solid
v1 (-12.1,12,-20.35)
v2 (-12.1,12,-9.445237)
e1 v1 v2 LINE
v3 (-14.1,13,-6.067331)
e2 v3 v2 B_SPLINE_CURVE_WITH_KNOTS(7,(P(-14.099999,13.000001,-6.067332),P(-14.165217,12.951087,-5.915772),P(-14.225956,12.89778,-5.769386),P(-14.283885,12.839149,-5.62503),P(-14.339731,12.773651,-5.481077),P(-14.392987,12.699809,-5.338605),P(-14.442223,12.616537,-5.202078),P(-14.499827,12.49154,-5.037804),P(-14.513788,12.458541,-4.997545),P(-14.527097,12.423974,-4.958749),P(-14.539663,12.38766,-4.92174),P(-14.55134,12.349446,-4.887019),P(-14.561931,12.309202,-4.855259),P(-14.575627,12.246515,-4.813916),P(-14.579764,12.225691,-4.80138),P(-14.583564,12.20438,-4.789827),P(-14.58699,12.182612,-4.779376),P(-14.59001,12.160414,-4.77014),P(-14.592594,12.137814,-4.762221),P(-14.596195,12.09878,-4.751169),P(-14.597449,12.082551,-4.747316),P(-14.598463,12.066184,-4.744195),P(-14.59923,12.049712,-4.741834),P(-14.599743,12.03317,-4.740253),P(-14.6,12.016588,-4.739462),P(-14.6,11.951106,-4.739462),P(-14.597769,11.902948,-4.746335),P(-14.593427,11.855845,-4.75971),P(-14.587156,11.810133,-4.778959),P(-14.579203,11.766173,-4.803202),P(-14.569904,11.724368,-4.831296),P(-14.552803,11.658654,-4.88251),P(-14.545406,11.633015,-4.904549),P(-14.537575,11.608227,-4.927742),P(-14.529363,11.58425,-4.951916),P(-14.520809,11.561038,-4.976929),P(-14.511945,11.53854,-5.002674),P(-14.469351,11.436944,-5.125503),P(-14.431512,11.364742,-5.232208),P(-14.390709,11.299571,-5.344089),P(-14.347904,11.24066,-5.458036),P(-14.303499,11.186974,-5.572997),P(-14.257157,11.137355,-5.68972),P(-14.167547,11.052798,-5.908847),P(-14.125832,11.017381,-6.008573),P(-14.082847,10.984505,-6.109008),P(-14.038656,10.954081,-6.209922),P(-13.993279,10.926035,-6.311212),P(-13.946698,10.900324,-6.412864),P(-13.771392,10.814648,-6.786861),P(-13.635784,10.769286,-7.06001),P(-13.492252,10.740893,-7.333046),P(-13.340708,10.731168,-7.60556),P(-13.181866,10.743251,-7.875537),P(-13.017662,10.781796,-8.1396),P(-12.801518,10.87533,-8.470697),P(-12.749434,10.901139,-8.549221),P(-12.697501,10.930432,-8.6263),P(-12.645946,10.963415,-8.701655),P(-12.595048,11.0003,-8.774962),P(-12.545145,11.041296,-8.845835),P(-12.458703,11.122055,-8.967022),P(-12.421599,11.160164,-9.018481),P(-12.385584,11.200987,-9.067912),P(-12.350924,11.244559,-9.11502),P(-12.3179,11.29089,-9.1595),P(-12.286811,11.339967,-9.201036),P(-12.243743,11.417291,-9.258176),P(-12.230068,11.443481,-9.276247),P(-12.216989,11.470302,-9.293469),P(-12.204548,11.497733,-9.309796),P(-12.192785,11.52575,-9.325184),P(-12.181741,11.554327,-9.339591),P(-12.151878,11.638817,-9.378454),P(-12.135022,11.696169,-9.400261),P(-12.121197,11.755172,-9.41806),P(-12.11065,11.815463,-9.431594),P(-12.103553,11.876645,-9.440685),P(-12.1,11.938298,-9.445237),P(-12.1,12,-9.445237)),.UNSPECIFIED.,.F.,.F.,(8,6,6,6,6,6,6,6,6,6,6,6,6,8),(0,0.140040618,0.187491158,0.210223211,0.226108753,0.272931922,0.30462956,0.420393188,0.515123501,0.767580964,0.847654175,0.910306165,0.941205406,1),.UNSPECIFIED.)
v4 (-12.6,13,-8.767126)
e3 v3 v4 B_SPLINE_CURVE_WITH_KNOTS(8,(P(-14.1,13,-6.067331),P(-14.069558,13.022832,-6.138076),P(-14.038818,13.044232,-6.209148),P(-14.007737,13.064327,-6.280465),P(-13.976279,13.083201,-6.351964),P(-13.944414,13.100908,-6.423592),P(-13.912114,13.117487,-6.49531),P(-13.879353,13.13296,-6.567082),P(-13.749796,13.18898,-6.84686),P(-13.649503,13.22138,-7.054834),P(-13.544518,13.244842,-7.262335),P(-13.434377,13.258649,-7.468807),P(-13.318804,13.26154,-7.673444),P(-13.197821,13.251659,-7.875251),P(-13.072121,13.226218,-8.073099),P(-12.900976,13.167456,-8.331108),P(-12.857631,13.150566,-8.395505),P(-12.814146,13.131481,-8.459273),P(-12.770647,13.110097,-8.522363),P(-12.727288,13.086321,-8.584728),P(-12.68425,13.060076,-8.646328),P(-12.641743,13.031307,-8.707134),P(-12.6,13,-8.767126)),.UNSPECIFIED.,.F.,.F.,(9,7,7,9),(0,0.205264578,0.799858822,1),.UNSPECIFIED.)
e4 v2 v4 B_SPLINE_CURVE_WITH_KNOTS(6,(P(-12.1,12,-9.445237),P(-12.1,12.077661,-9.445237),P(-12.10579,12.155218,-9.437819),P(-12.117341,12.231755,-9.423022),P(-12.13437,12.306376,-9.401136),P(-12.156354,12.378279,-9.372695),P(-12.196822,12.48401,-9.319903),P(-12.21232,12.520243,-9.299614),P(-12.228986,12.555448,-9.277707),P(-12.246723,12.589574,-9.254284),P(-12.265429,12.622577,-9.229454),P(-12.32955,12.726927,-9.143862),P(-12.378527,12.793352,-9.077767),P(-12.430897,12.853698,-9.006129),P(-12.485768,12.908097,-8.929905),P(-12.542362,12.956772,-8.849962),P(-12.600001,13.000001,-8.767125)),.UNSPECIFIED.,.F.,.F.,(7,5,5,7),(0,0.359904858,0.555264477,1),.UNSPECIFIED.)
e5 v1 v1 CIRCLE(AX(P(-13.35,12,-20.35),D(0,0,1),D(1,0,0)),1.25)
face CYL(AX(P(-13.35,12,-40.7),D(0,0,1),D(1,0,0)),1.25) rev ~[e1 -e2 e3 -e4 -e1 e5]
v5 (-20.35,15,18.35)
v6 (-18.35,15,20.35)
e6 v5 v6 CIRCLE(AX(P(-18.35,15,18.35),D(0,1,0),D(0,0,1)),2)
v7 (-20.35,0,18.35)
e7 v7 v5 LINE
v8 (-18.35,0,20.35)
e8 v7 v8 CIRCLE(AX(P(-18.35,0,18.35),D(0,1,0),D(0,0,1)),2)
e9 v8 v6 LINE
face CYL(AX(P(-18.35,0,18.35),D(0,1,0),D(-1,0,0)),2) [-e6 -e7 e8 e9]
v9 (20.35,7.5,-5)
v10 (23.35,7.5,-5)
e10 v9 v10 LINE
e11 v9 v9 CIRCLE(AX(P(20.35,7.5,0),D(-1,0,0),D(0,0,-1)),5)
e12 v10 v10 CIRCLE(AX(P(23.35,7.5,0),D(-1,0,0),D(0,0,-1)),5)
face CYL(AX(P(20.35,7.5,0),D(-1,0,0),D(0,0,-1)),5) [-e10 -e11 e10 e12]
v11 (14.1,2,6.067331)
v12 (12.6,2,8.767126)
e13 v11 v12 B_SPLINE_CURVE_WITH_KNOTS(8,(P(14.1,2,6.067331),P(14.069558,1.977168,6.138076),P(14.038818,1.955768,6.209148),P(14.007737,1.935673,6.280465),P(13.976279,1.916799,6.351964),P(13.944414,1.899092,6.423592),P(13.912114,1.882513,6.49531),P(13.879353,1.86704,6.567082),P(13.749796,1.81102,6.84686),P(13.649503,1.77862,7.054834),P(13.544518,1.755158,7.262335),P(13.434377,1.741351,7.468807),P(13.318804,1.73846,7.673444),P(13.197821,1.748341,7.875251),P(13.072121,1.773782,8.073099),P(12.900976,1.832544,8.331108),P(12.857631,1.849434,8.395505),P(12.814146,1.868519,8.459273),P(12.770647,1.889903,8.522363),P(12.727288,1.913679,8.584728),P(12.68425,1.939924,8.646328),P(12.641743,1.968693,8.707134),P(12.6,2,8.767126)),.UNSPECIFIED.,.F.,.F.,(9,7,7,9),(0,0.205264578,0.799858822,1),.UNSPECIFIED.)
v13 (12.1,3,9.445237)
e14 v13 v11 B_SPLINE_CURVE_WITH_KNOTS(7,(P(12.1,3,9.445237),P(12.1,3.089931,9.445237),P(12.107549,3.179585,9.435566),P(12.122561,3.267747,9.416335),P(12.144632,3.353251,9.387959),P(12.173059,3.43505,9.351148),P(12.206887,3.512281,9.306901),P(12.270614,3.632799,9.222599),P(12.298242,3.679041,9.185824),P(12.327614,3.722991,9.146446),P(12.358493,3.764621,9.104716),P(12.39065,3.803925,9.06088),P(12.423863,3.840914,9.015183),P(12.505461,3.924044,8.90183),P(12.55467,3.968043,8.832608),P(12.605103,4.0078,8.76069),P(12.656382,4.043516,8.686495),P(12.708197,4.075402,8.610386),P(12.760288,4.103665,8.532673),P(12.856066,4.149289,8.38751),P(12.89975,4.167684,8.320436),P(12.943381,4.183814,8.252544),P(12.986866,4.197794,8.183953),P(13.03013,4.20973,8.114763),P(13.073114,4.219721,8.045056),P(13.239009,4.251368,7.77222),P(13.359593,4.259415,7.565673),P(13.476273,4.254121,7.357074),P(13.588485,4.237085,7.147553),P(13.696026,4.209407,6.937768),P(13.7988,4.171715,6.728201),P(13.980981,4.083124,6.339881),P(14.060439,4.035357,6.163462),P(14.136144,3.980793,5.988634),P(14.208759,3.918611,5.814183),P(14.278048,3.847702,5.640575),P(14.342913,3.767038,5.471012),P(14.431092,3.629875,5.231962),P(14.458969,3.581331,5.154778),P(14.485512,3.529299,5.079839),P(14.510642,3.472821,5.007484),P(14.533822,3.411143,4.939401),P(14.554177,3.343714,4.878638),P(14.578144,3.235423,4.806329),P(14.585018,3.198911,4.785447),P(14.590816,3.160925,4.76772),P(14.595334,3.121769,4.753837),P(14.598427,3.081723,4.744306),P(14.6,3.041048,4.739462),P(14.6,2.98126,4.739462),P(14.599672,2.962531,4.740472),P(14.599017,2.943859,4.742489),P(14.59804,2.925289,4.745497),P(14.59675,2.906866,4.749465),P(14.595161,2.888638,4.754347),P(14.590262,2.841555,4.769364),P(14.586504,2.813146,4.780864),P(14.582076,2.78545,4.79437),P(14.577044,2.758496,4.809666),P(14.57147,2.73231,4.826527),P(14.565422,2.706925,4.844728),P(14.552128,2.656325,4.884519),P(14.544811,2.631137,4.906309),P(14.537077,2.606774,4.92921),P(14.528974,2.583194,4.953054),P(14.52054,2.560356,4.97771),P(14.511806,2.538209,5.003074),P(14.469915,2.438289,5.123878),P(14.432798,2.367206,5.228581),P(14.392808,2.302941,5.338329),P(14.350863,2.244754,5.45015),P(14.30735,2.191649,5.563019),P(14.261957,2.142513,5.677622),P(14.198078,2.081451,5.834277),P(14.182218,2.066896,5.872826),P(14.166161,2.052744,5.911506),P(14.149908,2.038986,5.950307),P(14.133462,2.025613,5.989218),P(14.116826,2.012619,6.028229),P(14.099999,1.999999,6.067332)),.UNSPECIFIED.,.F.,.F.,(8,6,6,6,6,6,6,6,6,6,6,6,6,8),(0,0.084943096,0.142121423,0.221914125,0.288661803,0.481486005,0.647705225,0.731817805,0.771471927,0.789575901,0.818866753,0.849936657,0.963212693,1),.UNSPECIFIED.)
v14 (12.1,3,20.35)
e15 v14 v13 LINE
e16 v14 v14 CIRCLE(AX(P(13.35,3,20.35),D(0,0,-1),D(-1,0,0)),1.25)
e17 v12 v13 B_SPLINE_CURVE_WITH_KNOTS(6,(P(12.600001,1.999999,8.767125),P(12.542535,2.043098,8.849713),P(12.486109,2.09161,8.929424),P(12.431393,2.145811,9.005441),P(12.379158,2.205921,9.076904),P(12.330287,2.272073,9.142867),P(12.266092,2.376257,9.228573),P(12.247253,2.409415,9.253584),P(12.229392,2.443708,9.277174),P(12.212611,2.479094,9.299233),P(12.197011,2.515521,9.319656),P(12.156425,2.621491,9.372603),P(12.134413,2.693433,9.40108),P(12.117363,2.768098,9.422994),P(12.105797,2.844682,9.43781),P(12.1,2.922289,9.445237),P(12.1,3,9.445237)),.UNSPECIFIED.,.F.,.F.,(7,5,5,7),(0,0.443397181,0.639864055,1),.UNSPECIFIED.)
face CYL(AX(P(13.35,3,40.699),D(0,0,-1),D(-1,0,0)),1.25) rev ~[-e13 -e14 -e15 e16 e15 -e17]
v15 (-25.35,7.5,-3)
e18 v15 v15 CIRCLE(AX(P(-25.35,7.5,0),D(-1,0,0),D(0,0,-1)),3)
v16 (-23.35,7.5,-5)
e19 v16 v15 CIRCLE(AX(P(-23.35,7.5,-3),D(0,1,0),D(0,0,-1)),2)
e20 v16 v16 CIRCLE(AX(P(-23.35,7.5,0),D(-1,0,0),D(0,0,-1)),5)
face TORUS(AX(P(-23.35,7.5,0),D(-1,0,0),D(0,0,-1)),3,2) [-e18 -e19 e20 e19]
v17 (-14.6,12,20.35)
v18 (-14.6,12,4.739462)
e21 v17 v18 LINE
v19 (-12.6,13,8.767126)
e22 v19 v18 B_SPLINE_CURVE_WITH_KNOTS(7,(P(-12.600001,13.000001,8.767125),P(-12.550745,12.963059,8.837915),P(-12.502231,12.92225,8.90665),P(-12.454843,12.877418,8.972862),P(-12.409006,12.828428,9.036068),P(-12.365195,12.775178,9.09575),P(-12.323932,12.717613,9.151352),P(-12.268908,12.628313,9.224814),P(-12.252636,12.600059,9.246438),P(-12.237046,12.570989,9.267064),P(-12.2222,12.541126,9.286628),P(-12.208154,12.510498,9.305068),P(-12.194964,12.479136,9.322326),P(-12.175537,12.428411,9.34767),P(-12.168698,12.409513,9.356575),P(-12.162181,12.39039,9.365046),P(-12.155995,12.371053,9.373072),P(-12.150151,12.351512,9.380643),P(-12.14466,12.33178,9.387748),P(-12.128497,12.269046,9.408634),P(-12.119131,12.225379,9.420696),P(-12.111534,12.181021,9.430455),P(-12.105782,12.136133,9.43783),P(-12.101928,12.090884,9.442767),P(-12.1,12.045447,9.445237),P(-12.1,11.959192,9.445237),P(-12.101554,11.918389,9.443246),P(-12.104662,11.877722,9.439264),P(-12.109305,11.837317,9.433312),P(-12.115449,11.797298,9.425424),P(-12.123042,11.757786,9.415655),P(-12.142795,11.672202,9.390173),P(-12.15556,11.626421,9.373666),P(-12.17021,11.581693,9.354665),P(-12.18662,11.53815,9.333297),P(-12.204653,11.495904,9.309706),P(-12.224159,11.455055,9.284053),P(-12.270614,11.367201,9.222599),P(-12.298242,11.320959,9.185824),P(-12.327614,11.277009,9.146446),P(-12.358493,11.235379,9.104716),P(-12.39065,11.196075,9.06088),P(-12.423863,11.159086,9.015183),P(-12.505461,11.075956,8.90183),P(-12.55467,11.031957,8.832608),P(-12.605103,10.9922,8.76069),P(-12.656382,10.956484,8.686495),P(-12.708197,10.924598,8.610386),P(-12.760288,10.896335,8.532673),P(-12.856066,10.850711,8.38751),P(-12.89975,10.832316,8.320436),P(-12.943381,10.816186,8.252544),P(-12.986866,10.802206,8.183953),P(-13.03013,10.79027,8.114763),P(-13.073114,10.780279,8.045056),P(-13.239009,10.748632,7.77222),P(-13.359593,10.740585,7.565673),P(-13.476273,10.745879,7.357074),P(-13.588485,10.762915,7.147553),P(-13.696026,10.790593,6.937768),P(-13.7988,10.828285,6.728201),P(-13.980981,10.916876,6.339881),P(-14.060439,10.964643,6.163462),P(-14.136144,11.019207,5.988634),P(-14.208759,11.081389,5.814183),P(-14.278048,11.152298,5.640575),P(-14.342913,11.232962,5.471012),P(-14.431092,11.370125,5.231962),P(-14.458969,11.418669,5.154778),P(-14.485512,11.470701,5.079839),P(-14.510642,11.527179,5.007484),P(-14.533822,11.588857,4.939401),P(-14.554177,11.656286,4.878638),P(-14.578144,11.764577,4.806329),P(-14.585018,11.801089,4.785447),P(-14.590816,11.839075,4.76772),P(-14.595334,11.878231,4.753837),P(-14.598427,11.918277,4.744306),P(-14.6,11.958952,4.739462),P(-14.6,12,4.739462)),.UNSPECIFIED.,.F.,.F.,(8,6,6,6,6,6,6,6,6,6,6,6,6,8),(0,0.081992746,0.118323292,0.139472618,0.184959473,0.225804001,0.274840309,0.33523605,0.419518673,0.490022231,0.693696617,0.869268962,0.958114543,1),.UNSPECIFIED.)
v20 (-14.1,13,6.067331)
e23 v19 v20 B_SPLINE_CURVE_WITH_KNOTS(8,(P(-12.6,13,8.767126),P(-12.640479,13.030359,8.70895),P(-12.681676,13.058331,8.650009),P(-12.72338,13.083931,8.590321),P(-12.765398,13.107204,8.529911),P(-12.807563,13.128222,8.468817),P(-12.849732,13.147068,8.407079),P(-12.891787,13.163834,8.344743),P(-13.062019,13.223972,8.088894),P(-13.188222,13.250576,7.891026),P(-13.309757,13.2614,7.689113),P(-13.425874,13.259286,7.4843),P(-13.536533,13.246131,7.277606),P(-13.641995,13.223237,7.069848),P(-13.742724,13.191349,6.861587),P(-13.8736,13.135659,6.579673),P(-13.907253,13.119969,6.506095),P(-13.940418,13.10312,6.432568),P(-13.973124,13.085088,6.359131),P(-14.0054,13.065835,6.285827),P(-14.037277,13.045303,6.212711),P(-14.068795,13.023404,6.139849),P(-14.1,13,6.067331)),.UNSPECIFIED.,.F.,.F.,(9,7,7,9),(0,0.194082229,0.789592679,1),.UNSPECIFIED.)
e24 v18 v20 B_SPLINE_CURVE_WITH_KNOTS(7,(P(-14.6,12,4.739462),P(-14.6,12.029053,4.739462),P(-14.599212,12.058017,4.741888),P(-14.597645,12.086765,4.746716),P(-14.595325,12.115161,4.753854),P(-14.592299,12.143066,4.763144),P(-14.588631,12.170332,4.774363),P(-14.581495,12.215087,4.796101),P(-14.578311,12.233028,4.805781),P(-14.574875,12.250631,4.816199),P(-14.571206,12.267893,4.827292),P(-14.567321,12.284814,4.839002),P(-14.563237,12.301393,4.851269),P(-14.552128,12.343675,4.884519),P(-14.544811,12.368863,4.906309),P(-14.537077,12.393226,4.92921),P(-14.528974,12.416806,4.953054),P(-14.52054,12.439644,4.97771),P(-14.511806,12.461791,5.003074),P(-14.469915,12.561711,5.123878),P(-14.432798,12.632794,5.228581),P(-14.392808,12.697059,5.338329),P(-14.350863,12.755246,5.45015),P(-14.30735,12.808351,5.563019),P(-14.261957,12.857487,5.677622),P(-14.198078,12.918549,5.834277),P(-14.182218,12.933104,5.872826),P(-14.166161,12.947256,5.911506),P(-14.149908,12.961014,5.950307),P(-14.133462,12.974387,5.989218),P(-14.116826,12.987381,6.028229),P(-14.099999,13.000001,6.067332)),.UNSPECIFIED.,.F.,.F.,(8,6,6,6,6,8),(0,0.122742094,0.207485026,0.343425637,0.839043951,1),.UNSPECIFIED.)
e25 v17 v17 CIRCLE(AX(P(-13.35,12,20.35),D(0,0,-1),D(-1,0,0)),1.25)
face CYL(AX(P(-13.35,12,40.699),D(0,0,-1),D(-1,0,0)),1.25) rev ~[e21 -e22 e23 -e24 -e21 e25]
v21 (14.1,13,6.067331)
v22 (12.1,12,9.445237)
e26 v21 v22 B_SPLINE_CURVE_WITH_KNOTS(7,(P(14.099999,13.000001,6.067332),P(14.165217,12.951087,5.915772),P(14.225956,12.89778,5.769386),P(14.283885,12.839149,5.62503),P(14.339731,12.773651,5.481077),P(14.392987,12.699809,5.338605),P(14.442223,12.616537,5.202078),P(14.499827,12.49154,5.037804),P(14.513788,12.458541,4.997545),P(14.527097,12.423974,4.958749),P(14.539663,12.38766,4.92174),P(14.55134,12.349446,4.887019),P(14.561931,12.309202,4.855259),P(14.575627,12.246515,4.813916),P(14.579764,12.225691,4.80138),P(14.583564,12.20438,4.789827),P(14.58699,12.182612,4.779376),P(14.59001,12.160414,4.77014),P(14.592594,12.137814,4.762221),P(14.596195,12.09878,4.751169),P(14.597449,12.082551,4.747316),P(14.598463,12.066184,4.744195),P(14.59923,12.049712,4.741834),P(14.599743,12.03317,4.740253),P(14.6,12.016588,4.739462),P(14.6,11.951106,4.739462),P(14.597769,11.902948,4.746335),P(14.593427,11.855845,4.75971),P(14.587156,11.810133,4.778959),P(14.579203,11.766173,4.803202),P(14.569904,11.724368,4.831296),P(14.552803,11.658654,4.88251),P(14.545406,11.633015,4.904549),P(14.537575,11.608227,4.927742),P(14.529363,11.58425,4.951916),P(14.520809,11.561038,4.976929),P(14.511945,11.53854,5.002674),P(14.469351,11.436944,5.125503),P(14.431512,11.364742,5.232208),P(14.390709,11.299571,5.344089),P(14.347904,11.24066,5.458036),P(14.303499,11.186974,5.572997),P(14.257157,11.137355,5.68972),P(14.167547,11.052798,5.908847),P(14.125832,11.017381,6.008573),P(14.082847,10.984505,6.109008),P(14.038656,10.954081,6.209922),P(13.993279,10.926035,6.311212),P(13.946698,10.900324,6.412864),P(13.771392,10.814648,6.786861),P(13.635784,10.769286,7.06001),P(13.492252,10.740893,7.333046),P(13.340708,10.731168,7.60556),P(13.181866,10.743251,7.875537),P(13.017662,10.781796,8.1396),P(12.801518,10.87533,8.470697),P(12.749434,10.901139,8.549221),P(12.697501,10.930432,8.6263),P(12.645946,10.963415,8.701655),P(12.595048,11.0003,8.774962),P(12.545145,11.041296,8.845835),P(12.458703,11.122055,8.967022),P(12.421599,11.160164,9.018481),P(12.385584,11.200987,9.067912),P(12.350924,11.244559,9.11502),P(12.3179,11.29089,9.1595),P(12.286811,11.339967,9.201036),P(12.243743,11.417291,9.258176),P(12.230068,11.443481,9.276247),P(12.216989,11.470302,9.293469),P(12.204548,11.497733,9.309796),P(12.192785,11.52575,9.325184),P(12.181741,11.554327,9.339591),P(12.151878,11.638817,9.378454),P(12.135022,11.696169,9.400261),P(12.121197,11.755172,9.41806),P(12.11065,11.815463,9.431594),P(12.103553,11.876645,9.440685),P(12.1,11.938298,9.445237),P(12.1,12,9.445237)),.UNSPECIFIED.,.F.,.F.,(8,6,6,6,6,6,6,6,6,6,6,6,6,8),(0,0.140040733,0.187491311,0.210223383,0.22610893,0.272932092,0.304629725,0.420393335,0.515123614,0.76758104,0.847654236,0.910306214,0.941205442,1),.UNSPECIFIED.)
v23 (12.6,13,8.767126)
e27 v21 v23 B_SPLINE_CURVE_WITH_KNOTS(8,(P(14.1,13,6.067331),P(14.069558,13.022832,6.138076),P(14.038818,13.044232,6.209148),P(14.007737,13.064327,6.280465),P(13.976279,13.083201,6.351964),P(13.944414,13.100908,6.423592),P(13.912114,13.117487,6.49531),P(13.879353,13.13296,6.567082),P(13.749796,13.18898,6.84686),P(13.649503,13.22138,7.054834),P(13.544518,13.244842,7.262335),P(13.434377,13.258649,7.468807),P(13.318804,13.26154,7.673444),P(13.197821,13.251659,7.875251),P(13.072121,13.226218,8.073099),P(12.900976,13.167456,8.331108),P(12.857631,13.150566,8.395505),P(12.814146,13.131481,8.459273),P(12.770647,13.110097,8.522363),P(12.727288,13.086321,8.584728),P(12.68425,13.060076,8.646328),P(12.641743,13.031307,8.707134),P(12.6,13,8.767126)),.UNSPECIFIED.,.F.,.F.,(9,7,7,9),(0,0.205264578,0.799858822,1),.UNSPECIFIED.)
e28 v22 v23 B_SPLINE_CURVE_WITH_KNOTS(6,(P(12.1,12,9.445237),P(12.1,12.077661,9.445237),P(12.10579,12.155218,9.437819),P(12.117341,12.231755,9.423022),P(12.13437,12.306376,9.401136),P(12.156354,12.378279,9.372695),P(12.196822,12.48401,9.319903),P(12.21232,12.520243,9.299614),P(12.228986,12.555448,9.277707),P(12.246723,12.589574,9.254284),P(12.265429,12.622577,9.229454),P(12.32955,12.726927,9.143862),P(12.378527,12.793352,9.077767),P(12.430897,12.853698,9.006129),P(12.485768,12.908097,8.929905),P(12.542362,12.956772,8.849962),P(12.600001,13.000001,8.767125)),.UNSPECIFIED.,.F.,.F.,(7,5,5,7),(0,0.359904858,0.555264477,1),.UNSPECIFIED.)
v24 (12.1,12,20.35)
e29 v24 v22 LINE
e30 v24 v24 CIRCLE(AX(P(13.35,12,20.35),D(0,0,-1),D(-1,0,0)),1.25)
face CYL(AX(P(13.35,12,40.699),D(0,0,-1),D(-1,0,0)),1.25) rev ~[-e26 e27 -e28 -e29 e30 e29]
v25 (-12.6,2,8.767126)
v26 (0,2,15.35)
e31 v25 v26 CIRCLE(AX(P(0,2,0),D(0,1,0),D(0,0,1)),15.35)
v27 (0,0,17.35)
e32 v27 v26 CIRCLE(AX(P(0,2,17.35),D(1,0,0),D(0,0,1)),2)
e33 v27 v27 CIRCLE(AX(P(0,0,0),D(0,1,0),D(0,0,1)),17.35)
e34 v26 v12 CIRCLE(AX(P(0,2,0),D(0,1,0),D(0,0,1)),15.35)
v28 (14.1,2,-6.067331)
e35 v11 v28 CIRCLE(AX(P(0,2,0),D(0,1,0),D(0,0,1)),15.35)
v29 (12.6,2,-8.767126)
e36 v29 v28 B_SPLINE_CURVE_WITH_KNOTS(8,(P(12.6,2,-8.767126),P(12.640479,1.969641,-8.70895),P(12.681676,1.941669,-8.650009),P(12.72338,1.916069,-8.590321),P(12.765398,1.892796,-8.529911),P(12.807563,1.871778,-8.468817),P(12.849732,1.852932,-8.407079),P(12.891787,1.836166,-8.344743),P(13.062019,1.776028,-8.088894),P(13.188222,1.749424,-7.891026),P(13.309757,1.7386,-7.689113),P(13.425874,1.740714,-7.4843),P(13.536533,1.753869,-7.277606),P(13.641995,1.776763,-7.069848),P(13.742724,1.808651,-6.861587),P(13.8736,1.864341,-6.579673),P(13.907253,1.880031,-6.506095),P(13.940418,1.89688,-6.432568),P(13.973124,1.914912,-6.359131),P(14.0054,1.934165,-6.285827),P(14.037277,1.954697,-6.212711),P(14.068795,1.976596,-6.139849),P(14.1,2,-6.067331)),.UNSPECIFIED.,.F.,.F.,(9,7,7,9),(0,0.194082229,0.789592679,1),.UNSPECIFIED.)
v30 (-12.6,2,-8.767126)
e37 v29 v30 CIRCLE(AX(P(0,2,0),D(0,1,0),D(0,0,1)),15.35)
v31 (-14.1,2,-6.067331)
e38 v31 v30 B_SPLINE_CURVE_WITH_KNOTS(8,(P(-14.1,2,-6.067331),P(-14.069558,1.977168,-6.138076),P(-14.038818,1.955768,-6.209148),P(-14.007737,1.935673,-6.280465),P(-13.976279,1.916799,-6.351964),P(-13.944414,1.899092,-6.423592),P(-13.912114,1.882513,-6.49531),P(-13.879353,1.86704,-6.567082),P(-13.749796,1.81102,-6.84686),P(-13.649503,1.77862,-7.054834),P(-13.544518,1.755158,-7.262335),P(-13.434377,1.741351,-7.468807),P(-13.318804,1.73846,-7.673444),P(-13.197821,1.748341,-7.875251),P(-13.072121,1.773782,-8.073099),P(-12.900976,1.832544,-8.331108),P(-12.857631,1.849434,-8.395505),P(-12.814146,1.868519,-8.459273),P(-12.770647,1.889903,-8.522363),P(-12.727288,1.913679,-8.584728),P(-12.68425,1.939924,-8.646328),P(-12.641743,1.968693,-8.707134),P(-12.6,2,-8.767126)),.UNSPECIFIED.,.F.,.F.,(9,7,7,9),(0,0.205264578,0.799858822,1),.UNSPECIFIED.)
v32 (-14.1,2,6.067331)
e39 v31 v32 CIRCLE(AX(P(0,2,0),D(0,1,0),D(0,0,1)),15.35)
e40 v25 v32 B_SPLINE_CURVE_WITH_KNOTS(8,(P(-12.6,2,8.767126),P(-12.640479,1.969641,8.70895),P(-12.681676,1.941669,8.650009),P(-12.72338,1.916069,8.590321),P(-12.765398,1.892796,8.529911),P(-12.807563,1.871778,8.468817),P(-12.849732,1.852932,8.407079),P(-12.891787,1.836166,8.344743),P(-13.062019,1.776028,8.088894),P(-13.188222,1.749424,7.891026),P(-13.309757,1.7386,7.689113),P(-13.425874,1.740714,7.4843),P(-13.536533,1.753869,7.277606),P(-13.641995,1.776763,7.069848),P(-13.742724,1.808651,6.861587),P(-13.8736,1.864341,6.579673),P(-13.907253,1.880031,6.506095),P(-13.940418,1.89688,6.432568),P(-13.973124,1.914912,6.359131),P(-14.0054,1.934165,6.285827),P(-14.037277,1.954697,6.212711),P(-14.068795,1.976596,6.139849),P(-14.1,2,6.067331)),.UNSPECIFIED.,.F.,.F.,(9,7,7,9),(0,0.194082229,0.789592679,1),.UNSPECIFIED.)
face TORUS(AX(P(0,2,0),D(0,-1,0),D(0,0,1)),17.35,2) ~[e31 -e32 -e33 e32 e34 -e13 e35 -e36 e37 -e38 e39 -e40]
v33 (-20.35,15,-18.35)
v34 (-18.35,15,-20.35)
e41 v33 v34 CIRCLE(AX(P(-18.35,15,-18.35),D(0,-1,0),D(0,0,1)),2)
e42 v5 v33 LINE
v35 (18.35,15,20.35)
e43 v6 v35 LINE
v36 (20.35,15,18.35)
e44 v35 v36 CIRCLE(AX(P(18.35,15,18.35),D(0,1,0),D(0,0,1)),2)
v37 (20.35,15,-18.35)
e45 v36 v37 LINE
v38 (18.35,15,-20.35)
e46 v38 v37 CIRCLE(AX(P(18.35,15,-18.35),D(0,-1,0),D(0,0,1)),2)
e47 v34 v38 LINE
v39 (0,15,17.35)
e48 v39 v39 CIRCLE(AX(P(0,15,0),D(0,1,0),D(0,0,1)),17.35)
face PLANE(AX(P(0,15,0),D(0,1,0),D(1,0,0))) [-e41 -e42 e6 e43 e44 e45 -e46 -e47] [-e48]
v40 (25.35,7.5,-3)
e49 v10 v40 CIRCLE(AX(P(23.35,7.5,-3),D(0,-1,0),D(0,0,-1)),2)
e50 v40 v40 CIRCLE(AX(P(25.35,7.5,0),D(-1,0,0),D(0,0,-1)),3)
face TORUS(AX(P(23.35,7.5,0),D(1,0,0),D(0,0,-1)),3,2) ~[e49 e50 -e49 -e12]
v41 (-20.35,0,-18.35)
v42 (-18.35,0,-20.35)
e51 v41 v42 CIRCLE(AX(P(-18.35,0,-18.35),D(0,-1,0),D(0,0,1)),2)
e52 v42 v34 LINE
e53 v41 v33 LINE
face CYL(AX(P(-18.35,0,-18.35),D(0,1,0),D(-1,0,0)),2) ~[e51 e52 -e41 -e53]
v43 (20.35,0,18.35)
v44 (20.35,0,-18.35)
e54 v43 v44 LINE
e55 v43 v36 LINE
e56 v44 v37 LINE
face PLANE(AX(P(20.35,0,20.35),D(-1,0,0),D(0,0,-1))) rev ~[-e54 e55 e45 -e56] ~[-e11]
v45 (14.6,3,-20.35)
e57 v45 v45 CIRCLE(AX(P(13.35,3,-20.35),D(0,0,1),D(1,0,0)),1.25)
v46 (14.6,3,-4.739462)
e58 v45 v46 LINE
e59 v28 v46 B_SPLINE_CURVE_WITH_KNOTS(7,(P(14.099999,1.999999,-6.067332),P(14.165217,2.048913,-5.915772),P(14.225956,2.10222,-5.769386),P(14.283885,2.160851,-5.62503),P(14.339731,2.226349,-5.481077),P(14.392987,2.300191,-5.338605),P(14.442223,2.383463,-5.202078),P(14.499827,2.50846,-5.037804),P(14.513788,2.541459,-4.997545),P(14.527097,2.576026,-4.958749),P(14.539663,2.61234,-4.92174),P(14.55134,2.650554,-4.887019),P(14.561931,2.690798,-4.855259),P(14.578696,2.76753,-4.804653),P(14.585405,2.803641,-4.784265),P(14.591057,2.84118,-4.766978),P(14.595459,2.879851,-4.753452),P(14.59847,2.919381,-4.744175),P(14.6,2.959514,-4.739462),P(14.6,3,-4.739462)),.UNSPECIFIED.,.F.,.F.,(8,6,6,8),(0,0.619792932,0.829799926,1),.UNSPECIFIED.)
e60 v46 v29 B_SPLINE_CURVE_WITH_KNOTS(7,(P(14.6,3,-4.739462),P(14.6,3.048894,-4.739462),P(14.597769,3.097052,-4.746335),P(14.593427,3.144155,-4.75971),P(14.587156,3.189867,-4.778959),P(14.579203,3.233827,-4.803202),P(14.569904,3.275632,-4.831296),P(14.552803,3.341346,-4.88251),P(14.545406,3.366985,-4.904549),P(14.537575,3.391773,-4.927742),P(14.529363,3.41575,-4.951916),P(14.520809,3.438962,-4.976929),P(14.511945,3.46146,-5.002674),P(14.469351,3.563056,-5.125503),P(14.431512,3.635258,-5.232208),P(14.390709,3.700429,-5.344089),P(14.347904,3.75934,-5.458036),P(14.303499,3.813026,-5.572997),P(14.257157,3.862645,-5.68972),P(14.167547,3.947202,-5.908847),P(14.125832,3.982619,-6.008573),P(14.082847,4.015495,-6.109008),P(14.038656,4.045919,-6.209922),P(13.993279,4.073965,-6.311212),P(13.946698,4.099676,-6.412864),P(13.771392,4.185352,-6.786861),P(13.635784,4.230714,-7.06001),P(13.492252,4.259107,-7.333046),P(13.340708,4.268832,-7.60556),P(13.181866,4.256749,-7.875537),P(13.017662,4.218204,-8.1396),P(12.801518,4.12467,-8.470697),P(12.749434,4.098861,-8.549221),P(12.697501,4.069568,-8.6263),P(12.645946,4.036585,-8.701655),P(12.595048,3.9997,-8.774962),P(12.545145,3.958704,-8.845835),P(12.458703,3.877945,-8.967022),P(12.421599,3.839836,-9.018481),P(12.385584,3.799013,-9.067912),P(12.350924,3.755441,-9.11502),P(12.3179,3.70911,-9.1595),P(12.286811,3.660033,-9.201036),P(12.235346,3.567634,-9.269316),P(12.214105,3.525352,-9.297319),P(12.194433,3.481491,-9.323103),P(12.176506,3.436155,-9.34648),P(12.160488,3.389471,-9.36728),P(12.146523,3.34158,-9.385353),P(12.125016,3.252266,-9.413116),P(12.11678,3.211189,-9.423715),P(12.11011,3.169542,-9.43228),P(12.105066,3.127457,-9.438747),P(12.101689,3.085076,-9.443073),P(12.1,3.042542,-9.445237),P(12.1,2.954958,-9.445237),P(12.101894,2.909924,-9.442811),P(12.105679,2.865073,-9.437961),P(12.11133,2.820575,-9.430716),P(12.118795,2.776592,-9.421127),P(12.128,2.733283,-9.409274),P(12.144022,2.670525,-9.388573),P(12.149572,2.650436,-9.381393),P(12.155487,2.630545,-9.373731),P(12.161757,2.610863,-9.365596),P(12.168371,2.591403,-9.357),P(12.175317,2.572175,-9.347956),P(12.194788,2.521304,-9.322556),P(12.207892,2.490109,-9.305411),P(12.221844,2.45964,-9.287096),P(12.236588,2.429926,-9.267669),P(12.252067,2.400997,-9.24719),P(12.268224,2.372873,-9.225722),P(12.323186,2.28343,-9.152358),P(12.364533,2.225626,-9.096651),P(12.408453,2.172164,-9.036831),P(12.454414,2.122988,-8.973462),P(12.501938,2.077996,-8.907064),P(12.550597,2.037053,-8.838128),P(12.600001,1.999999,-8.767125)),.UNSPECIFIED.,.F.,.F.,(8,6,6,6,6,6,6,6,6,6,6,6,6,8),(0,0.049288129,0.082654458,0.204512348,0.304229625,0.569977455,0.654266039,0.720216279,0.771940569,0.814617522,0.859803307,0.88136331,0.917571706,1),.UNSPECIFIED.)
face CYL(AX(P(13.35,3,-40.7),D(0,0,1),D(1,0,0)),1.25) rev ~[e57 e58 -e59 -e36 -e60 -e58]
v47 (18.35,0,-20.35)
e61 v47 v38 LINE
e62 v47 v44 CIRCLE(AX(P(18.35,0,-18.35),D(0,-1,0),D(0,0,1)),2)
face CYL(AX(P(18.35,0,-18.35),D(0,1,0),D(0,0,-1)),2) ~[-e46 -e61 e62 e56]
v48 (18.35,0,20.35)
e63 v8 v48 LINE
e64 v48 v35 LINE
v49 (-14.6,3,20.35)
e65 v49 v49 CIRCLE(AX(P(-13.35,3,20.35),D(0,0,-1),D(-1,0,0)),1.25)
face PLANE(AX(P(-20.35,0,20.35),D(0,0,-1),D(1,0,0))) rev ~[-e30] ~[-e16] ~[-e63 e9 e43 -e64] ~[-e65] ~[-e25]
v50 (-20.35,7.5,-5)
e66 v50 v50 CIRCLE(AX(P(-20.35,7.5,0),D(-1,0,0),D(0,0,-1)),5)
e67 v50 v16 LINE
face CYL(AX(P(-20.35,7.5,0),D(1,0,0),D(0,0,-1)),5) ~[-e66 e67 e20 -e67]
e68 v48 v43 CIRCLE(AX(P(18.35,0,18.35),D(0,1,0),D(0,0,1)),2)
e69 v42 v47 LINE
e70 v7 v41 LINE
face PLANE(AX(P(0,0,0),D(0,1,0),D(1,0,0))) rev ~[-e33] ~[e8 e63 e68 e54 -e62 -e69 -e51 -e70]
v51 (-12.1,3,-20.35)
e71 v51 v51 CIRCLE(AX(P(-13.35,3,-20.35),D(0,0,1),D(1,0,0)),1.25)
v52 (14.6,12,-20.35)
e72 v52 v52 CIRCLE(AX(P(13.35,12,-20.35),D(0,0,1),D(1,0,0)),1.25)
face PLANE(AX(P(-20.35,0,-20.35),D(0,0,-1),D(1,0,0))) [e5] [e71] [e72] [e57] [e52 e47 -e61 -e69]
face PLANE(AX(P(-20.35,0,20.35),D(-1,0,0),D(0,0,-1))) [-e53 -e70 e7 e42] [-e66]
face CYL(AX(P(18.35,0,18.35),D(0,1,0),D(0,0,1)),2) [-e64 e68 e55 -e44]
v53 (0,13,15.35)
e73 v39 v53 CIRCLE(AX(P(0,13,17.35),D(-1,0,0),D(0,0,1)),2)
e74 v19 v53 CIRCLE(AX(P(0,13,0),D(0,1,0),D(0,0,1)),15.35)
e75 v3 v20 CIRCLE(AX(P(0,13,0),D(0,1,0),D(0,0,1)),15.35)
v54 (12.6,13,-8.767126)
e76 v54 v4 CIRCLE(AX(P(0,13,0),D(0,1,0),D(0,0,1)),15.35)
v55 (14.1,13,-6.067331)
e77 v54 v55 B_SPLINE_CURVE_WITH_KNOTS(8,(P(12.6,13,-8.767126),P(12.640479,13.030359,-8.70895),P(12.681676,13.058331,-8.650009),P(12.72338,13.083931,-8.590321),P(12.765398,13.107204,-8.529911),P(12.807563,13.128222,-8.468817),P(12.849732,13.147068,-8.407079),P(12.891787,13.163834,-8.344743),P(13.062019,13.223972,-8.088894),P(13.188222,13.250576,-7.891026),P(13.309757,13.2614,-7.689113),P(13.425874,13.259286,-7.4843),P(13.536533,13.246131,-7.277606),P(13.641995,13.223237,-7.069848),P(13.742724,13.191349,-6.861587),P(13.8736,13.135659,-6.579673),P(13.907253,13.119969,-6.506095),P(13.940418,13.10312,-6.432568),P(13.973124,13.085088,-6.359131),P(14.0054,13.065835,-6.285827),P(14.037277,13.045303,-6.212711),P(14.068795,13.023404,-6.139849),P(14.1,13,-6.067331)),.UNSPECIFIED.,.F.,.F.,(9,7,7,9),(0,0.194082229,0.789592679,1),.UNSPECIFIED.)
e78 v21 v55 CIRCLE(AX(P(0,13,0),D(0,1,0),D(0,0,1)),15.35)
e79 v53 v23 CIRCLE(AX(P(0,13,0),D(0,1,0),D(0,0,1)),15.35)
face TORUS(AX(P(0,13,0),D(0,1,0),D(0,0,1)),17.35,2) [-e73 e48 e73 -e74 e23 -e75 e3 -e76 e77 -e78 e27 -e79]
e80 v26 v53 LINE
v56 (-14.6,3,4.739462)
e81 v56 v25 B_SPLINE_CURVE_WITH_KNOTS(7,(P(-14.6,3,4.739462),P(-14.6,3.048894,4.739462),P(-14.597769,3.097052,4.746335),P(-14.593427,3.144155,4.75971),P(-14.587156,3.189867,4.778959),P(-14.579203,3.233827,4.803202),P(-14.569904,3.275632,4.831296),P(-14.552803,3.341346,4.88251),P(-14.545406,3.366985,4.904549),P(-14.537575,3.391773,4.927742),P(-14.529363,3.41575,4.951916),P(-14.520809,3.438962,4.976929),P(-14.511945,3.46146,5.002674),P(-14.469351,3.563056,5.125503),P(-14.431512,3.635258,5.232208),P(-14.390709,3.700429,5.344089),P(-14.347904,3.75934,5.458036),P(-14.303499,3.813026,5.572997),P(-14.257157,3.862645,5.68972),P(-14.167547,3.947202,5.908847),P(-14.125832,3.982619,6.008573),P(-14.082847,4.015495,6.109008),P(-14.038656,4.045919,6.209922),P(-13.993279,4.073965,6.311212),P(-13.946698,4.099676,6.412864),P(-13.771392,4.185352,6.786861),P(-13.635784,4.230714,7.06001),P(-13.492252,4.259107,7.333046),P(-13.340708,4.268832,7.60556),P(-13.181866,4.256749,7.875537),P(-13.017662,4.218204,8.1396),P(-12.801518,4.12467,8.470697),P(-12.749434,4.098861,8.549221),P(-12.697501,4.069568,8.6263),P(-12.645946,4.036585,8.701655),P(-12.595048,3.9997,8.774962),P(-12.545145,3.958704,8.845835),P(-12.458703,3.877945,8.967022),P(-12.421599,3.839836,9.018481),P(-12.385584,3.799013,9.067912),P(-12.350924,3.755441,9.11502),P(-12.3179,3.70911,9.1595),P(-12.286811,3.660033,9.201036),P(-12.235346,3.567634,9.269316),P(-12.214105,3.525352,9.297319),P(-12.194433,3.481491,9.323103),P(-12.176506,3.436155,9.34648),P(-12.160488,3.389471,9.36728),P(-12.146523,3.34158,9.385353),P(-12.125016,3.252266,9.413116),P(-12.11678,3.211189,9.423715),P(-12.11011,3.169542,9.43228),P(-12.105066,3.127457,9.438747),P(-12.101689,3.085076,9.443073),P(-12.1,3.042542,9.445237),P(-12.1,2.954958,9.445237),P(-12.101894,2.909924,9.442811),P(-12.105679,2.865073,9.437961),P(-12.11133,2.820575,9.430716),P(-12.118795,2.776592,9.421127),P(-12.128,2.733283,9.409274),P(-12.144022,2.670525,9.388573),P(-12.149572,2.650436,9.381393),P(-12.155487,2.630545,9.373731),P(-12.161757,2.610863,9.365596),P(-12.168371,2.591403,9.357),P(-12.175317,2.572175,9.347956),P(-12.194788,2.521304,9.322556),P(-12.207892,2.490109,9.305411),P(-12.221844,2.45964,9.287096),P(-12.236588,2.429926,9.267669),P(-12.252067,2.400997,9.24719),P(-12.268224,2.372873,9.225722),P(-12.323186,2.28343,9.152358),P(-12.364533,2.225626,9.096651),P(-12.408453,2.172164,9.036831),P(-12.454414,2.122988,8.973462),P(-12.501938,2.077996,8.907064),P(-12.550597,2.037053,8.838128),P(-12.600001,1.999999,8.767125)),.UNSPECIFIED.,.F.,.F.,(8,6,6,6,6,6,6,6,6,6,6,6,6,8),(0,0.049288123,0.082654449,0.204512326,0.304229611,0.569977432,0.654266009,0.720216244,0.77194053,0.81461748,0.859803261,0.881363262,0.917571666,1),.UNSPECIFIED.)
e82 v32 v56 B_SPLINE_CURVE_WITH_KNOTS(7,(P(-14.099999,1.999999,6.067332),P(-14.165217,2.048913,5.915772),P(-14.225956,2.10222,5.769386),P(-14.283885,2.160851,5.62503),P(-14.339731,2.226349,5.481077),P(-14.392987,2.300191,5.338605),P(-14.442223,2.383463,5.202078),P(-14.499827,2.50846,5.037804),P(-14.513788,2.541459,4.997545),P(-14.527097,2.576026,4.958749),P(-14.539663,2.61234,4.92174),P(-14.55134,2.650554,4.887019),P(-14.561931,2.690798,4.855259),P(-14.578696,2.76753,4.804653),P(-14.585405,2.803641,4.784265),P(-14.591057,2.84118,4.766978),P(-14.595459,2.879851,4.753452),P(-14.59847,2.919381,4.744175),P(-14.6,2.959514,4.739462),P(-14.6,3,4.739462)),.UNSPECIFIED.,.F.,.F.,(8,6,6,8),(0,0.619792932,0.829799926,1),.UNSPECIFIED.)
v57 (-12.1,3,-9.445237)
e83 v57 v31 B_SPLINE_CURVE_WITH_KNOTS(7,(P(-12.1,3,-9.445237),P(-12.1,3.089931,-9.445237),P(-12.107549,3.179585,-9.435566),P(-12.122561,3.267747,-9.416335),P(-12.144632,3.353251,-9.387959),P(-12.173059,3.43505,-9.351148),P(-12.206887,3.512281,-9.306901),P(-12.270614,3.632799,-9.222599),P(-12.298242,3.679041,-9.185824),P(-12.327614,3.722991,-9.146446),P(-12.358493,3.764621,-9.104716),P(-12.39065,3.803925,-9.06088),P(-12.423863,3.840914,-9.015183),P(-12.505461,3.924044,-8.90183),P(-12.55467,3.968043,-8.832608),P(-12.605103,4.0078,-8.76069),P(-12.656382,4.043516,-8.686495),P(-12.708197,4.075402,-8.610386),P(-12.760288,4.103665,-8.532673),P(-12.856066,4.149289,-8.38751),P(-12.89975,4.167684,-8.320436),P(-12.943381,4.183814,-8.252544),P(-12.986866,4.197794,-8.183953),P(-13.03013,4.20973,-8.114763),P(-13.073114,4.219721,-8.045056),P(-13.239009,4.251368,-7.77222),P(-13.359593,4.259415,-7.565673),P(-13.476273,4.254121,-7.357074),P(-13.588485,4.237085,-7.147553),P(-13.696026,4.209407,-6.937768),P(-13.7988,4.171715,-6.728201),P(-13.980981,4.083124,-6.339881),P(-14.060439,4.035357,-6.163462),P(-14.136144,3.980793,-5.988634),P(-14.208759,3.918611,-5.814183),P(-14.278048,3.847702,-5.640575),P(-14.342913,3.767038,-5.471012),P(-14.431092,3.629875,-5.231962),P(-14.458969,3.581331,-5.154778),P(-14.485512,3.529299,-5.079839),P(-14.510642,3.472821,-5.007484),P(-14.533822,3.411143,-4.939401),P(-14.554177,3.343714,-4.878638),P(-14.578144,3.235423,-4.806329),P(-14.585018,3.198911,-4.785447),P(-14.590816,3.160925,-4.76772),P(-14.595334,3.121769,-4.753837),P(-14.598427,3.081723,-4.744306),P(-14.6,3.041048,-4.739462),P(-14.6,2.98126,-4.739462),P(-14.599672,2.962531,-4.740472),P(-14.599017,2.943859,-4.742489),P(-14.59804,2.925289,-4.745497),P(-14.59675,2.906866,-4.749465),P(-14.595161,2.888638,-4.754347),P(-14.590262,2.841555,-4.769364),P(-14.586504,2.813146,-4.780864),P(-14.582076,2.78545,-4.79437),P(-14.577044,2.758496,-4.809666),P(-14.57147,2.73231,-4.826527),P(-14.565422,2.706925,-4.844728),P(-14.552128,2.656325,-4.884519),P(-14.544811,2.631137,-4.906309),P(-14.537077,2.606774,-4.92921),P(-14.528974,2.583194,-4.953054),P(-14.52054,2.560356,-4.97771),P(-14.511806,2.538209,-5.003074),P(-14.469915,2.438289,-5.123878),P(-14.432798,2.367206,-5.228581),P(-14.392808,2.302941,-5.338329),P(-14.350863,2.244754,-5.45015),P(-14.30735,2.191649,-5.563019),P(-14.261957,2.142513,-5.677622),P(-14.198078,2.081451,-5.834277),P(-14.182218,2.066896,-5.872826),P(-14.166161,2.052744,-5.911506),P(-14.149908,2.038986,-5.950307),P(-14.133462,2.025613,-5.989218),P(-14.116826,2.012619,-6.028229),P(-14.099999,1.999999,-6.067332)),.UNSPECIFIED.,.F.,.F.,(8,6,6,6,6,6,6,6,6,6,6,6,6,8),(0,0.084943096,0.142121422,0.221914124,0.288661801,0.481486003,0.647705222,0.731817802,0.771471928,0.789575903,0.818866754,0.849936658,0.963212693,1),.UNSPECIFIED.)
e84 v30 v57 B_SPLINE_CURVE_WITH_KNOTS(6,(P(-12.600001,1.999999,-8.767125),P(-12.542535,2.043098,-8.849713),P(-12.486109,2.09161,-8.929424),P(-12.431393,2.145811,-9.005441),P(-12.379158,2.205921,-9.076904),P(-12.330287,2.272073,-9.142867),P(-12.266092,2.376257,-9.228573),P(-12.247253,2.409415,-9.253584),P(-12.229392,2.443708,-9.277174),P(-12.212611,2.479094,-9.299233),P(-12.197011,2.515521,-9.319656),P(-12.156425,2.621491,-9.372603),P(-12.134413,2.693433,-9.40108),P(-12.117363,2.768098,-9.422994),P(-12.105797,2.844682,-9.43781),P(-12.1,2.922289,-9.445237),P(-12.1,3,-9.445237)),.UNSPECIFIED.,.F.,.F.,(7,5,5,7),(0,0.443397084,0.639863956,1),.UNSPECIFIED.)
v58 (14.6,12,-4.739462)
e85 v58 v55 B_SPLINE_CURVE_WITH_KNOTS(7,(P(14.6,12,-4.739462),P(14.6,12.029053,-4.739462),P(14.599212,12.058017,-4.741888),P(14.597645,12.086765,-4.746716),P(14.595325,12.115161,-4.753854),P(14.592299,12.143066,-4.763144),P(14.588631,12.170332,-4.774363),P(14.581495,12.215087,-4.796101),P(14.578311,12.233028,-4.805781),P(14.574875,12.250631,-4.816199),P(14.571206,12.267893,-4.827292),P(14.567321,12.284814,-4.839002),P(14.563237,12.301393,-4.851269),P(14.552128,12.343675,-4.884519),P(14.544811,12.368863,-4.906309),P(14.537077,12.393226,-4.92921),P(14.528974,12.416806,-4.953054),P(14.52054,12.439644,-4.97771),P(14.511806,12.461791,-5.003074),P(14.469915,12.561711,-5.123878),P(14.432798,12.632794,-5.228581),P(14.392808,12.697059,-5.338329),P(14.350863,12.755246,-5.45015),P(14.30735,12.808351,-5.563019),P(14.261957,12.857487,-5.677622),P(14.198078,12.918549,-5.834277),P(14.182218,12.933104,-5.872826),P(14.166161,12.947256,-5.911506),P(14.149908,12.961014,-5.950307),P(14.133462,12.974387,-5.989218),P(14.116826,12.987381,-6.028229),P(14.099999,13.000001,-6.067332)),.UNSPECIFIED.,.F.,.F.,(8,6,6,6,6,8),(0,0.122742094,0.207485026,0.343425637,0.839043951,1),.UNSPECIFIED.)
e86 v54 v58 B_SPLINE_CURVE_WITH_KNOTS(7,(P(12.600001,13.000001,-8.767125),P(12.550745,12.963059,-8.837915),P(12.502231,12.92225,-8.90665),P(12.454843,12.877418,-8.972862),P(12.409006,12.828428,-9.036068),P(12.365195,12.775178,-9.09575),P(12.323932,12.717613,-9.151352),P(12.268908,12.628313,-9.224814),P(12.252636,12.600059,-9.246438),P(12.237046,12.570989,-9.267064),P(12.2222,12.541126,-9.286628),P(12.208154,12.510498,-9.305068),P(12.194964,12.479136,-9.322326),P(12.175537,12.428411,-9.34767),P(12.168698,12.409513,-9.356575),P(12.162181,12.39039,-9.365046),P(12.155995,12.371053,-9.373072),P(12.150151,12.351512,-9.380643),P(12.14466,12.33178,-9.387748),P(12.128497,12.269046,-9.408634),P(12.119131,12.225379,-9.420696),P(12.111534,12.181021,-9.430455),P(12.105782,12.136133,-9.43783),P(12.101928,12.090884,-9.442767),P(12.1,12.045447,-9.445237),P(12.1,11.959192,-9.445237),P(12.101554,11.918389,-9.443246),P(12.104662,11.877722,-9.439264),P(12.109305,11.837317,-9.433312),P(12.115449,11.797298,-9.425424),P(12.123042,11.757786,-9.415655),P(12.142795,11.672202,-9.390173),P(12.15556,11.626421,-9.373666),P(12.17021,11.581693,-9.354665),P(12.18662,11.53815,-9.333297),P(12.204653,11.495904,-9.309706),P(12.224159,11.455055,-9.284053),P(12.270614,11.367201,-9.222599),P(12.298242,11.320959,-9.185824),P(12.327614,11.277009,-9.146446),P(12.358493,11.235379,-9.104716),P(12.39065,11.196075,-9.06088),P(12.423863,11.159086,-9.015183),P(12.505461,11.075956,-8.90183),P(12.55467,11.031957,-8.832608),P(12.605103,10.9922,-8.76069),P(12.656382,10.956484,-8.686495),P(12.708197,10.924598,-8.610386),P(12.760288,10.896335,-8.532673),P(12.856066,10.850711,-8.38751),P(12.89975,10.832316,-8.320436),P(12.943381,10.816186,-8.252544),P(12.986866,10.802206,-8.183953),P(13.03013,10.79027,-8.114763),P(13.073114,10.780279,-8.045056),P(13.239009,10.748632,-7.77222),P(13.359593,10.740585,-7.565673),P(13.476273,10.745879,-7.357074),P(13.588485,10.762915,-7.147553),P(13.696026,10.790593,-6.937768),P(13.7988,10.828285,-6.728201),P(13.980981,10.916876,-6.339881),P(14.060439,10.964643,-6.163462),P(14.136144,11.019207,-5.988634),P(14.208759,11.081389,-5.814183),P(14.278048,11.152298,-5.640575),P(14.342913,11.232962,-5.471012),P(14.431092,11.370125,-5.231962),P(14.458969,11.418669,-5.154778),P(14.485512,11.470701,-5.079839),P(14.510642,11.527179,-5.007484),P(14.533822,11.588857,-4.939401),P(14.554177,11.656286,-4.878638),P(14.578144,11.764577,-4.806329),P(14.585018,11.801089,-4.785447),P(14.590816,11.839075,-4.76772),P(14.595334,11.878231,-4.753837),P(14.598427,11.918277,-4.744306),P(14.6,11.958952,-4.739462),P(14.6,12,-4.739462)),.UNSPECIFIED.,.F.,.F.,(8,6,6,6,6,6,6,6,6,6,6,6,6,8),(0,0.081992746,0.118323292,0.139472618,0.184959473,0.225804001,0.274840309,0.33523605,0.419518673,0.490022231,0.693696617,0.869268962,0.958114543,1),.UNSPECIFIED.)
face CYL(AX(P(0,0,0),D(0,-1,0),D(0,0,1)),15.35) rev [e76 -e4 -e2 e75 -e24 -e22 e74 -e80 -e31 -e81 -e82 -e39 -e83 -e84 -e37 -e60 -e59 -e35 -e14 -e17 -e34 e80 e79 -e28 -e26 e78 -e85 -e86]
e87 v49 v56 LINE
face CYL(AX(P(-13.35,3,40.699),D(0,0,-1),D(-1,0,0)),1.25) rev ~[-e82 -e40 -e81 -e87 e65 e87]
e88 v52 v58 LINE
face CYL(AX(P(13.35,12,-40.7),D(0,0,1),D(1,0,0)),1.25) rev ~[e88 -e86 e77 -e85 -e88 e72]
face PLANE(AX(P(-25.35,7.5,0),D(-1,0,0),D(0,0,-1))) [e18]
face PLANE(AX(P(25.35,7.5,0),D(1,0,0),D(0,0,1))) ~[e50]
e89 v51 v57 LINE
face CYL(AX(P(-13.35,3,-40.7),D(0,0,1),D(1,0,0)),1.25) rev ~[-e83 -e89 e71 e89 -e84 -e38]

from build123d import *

# Parameters (mm, degrees)
SKETCH1_W                       = 40.7
SKETCH1_H                       = 40.7
SKETCH1_R                       = 15.35
BOSS_EXTRUDE1_DEPTH             = 15
SKETCH2_R                       = 5
BOSS_EXTRUDE2_DEPTH             = 5
FILLET1_R                       = 2
FILLET2_R                       = 2
TAP_DRILL_FOR_M3X0_5_TAP1_D     = 2.5
TAP_DRILL_FOR_M3X0_5_TAP1_DEPTH = 20.349
TAP_DRILL_FOR_M3X0_5_TAP1_TIP   = 0.751075774
TAP_DRILL_FOR_M3X0_5_TAP2_D     = 2.5
TAP_DRILL_FOR_M3X0_5_TAP2_DEPTH = 20.35
TAP_DRILL_FOR_M3X0_5_TAP2_TIP   = 0.751075774


with BuildPart() as part:
    # Sketch1 → Boss-Extrude1 (new body)
    with BuildSketch(Plane(origin=(0, 0, 0), x_dir=(1, 0, 0), z_dir=(0, 1, 0))):
        Rectangle(SKETCH1_W, SKETCH1_H)
        with Locations(Location((0, 0, 0), (0, 0, 270))):  # turned: the seam where the file's is
            Circle(SKETCH1_R, mode=Mode.SUBTRACT)
    extrude(amount=BOSS_EXTRUDE1_DEPTH)

    # Sketch2 → Boss-Extrude2 (add)
    with BuildSketch(Plane.ZY.offset(20.35)):
        with Locations(Location((0, 7.5, 0), (0, 0, 180))):  # turned: the seam where the file's is
            Circle(SKETCH2_R)
    boss_extrude2 = extrude(amount=BOSS_EXTRUDE2_DEPTH)

    # Mirror1: Boss-Extrude2 across plane
    add(boss_extrude2.mirror(Plane.ZY))

    # Fillet1
    fillet1_edges = [part.edges().sort_by_distance(p)[0] for p in [
        (0, 0, -15.35),
        (0, 15, -15.35),
        (20.35, 7.5, 20.35),
        (-20.35, 7.5, 20.35),
        (-20.35, 7.5, -20.35),
        (20.35, 7.5, -20.35),
    ]]
    fillet(fillet1_edges, radius=FILLET1_R)

    # Fillet2
    fillet2_edges = [part.edges().sort_by_distance(p)[0] for p in [
        (-25.35, 7.5, 5),
        (25.35, 7.5, 5),
    ]]
    fillet(fillet2_edges, radius=FILLET2_R)

    # Tap Drill for M3x0.5 Tap1
    with Locations(Plane.XY.offset(20.35)):
        with Locations((-13.35, 12), (-13.35, 3), (13.35, 12), (13.35, 3)):
            Hole(TAP_DRILL_FOR_M3X0_5_TAP1_D / 2, depth=TAP_DRILL_FOR_M3X0_5_TAP1_DEPTH)
            with Locations((0, 0, -(TAP_DRILL_FOR_M3X0_5_TAP1_DEPTH + TAP_DRILL_FOR_M3X0_5_TAP1_TIP / 2))):  # 118° drill point
                Cone(0, TAP_DRILL_FOR_M3X0_5_TAP1_D / 2, TAP_DRILL_FOR_M3X0_5_TAP1_TIP, mode=Mode.SUBTRACT)

    # Tap Drill for M3x0.5 Tap2
    with Locations(Plane(origin=(0, 0, -20.35), x_dir=(-1, 0, 0), z_dir=(0, 0, -1))):
        with Locations((-13.35, 12), (-13.35, 3), (13.35, 12), (13.35, 3)):
            Hole(TAP_DRILL_FOR_M3X0_5_TAP2_D / 2, depth=TAP_DRILL_FOR_M3X0_5_TAP2_DEPTH)
            with Locations((0, 0, -(TAP_DRILL_FOR_M3X0_5_TAP2_DEPTH + TAP_DRILL_FOR_M3X0_5_TAP2_TIP / 2))):  # 118° drill point
                Cone(0, TAP_DRILL_FOR_M3X0_5_TAP2_D / 2, TAP_DRILL_FOR_M3X0_5_TAP2_TIP, mode=Mode.SUBTRACT)


solid = part.part
